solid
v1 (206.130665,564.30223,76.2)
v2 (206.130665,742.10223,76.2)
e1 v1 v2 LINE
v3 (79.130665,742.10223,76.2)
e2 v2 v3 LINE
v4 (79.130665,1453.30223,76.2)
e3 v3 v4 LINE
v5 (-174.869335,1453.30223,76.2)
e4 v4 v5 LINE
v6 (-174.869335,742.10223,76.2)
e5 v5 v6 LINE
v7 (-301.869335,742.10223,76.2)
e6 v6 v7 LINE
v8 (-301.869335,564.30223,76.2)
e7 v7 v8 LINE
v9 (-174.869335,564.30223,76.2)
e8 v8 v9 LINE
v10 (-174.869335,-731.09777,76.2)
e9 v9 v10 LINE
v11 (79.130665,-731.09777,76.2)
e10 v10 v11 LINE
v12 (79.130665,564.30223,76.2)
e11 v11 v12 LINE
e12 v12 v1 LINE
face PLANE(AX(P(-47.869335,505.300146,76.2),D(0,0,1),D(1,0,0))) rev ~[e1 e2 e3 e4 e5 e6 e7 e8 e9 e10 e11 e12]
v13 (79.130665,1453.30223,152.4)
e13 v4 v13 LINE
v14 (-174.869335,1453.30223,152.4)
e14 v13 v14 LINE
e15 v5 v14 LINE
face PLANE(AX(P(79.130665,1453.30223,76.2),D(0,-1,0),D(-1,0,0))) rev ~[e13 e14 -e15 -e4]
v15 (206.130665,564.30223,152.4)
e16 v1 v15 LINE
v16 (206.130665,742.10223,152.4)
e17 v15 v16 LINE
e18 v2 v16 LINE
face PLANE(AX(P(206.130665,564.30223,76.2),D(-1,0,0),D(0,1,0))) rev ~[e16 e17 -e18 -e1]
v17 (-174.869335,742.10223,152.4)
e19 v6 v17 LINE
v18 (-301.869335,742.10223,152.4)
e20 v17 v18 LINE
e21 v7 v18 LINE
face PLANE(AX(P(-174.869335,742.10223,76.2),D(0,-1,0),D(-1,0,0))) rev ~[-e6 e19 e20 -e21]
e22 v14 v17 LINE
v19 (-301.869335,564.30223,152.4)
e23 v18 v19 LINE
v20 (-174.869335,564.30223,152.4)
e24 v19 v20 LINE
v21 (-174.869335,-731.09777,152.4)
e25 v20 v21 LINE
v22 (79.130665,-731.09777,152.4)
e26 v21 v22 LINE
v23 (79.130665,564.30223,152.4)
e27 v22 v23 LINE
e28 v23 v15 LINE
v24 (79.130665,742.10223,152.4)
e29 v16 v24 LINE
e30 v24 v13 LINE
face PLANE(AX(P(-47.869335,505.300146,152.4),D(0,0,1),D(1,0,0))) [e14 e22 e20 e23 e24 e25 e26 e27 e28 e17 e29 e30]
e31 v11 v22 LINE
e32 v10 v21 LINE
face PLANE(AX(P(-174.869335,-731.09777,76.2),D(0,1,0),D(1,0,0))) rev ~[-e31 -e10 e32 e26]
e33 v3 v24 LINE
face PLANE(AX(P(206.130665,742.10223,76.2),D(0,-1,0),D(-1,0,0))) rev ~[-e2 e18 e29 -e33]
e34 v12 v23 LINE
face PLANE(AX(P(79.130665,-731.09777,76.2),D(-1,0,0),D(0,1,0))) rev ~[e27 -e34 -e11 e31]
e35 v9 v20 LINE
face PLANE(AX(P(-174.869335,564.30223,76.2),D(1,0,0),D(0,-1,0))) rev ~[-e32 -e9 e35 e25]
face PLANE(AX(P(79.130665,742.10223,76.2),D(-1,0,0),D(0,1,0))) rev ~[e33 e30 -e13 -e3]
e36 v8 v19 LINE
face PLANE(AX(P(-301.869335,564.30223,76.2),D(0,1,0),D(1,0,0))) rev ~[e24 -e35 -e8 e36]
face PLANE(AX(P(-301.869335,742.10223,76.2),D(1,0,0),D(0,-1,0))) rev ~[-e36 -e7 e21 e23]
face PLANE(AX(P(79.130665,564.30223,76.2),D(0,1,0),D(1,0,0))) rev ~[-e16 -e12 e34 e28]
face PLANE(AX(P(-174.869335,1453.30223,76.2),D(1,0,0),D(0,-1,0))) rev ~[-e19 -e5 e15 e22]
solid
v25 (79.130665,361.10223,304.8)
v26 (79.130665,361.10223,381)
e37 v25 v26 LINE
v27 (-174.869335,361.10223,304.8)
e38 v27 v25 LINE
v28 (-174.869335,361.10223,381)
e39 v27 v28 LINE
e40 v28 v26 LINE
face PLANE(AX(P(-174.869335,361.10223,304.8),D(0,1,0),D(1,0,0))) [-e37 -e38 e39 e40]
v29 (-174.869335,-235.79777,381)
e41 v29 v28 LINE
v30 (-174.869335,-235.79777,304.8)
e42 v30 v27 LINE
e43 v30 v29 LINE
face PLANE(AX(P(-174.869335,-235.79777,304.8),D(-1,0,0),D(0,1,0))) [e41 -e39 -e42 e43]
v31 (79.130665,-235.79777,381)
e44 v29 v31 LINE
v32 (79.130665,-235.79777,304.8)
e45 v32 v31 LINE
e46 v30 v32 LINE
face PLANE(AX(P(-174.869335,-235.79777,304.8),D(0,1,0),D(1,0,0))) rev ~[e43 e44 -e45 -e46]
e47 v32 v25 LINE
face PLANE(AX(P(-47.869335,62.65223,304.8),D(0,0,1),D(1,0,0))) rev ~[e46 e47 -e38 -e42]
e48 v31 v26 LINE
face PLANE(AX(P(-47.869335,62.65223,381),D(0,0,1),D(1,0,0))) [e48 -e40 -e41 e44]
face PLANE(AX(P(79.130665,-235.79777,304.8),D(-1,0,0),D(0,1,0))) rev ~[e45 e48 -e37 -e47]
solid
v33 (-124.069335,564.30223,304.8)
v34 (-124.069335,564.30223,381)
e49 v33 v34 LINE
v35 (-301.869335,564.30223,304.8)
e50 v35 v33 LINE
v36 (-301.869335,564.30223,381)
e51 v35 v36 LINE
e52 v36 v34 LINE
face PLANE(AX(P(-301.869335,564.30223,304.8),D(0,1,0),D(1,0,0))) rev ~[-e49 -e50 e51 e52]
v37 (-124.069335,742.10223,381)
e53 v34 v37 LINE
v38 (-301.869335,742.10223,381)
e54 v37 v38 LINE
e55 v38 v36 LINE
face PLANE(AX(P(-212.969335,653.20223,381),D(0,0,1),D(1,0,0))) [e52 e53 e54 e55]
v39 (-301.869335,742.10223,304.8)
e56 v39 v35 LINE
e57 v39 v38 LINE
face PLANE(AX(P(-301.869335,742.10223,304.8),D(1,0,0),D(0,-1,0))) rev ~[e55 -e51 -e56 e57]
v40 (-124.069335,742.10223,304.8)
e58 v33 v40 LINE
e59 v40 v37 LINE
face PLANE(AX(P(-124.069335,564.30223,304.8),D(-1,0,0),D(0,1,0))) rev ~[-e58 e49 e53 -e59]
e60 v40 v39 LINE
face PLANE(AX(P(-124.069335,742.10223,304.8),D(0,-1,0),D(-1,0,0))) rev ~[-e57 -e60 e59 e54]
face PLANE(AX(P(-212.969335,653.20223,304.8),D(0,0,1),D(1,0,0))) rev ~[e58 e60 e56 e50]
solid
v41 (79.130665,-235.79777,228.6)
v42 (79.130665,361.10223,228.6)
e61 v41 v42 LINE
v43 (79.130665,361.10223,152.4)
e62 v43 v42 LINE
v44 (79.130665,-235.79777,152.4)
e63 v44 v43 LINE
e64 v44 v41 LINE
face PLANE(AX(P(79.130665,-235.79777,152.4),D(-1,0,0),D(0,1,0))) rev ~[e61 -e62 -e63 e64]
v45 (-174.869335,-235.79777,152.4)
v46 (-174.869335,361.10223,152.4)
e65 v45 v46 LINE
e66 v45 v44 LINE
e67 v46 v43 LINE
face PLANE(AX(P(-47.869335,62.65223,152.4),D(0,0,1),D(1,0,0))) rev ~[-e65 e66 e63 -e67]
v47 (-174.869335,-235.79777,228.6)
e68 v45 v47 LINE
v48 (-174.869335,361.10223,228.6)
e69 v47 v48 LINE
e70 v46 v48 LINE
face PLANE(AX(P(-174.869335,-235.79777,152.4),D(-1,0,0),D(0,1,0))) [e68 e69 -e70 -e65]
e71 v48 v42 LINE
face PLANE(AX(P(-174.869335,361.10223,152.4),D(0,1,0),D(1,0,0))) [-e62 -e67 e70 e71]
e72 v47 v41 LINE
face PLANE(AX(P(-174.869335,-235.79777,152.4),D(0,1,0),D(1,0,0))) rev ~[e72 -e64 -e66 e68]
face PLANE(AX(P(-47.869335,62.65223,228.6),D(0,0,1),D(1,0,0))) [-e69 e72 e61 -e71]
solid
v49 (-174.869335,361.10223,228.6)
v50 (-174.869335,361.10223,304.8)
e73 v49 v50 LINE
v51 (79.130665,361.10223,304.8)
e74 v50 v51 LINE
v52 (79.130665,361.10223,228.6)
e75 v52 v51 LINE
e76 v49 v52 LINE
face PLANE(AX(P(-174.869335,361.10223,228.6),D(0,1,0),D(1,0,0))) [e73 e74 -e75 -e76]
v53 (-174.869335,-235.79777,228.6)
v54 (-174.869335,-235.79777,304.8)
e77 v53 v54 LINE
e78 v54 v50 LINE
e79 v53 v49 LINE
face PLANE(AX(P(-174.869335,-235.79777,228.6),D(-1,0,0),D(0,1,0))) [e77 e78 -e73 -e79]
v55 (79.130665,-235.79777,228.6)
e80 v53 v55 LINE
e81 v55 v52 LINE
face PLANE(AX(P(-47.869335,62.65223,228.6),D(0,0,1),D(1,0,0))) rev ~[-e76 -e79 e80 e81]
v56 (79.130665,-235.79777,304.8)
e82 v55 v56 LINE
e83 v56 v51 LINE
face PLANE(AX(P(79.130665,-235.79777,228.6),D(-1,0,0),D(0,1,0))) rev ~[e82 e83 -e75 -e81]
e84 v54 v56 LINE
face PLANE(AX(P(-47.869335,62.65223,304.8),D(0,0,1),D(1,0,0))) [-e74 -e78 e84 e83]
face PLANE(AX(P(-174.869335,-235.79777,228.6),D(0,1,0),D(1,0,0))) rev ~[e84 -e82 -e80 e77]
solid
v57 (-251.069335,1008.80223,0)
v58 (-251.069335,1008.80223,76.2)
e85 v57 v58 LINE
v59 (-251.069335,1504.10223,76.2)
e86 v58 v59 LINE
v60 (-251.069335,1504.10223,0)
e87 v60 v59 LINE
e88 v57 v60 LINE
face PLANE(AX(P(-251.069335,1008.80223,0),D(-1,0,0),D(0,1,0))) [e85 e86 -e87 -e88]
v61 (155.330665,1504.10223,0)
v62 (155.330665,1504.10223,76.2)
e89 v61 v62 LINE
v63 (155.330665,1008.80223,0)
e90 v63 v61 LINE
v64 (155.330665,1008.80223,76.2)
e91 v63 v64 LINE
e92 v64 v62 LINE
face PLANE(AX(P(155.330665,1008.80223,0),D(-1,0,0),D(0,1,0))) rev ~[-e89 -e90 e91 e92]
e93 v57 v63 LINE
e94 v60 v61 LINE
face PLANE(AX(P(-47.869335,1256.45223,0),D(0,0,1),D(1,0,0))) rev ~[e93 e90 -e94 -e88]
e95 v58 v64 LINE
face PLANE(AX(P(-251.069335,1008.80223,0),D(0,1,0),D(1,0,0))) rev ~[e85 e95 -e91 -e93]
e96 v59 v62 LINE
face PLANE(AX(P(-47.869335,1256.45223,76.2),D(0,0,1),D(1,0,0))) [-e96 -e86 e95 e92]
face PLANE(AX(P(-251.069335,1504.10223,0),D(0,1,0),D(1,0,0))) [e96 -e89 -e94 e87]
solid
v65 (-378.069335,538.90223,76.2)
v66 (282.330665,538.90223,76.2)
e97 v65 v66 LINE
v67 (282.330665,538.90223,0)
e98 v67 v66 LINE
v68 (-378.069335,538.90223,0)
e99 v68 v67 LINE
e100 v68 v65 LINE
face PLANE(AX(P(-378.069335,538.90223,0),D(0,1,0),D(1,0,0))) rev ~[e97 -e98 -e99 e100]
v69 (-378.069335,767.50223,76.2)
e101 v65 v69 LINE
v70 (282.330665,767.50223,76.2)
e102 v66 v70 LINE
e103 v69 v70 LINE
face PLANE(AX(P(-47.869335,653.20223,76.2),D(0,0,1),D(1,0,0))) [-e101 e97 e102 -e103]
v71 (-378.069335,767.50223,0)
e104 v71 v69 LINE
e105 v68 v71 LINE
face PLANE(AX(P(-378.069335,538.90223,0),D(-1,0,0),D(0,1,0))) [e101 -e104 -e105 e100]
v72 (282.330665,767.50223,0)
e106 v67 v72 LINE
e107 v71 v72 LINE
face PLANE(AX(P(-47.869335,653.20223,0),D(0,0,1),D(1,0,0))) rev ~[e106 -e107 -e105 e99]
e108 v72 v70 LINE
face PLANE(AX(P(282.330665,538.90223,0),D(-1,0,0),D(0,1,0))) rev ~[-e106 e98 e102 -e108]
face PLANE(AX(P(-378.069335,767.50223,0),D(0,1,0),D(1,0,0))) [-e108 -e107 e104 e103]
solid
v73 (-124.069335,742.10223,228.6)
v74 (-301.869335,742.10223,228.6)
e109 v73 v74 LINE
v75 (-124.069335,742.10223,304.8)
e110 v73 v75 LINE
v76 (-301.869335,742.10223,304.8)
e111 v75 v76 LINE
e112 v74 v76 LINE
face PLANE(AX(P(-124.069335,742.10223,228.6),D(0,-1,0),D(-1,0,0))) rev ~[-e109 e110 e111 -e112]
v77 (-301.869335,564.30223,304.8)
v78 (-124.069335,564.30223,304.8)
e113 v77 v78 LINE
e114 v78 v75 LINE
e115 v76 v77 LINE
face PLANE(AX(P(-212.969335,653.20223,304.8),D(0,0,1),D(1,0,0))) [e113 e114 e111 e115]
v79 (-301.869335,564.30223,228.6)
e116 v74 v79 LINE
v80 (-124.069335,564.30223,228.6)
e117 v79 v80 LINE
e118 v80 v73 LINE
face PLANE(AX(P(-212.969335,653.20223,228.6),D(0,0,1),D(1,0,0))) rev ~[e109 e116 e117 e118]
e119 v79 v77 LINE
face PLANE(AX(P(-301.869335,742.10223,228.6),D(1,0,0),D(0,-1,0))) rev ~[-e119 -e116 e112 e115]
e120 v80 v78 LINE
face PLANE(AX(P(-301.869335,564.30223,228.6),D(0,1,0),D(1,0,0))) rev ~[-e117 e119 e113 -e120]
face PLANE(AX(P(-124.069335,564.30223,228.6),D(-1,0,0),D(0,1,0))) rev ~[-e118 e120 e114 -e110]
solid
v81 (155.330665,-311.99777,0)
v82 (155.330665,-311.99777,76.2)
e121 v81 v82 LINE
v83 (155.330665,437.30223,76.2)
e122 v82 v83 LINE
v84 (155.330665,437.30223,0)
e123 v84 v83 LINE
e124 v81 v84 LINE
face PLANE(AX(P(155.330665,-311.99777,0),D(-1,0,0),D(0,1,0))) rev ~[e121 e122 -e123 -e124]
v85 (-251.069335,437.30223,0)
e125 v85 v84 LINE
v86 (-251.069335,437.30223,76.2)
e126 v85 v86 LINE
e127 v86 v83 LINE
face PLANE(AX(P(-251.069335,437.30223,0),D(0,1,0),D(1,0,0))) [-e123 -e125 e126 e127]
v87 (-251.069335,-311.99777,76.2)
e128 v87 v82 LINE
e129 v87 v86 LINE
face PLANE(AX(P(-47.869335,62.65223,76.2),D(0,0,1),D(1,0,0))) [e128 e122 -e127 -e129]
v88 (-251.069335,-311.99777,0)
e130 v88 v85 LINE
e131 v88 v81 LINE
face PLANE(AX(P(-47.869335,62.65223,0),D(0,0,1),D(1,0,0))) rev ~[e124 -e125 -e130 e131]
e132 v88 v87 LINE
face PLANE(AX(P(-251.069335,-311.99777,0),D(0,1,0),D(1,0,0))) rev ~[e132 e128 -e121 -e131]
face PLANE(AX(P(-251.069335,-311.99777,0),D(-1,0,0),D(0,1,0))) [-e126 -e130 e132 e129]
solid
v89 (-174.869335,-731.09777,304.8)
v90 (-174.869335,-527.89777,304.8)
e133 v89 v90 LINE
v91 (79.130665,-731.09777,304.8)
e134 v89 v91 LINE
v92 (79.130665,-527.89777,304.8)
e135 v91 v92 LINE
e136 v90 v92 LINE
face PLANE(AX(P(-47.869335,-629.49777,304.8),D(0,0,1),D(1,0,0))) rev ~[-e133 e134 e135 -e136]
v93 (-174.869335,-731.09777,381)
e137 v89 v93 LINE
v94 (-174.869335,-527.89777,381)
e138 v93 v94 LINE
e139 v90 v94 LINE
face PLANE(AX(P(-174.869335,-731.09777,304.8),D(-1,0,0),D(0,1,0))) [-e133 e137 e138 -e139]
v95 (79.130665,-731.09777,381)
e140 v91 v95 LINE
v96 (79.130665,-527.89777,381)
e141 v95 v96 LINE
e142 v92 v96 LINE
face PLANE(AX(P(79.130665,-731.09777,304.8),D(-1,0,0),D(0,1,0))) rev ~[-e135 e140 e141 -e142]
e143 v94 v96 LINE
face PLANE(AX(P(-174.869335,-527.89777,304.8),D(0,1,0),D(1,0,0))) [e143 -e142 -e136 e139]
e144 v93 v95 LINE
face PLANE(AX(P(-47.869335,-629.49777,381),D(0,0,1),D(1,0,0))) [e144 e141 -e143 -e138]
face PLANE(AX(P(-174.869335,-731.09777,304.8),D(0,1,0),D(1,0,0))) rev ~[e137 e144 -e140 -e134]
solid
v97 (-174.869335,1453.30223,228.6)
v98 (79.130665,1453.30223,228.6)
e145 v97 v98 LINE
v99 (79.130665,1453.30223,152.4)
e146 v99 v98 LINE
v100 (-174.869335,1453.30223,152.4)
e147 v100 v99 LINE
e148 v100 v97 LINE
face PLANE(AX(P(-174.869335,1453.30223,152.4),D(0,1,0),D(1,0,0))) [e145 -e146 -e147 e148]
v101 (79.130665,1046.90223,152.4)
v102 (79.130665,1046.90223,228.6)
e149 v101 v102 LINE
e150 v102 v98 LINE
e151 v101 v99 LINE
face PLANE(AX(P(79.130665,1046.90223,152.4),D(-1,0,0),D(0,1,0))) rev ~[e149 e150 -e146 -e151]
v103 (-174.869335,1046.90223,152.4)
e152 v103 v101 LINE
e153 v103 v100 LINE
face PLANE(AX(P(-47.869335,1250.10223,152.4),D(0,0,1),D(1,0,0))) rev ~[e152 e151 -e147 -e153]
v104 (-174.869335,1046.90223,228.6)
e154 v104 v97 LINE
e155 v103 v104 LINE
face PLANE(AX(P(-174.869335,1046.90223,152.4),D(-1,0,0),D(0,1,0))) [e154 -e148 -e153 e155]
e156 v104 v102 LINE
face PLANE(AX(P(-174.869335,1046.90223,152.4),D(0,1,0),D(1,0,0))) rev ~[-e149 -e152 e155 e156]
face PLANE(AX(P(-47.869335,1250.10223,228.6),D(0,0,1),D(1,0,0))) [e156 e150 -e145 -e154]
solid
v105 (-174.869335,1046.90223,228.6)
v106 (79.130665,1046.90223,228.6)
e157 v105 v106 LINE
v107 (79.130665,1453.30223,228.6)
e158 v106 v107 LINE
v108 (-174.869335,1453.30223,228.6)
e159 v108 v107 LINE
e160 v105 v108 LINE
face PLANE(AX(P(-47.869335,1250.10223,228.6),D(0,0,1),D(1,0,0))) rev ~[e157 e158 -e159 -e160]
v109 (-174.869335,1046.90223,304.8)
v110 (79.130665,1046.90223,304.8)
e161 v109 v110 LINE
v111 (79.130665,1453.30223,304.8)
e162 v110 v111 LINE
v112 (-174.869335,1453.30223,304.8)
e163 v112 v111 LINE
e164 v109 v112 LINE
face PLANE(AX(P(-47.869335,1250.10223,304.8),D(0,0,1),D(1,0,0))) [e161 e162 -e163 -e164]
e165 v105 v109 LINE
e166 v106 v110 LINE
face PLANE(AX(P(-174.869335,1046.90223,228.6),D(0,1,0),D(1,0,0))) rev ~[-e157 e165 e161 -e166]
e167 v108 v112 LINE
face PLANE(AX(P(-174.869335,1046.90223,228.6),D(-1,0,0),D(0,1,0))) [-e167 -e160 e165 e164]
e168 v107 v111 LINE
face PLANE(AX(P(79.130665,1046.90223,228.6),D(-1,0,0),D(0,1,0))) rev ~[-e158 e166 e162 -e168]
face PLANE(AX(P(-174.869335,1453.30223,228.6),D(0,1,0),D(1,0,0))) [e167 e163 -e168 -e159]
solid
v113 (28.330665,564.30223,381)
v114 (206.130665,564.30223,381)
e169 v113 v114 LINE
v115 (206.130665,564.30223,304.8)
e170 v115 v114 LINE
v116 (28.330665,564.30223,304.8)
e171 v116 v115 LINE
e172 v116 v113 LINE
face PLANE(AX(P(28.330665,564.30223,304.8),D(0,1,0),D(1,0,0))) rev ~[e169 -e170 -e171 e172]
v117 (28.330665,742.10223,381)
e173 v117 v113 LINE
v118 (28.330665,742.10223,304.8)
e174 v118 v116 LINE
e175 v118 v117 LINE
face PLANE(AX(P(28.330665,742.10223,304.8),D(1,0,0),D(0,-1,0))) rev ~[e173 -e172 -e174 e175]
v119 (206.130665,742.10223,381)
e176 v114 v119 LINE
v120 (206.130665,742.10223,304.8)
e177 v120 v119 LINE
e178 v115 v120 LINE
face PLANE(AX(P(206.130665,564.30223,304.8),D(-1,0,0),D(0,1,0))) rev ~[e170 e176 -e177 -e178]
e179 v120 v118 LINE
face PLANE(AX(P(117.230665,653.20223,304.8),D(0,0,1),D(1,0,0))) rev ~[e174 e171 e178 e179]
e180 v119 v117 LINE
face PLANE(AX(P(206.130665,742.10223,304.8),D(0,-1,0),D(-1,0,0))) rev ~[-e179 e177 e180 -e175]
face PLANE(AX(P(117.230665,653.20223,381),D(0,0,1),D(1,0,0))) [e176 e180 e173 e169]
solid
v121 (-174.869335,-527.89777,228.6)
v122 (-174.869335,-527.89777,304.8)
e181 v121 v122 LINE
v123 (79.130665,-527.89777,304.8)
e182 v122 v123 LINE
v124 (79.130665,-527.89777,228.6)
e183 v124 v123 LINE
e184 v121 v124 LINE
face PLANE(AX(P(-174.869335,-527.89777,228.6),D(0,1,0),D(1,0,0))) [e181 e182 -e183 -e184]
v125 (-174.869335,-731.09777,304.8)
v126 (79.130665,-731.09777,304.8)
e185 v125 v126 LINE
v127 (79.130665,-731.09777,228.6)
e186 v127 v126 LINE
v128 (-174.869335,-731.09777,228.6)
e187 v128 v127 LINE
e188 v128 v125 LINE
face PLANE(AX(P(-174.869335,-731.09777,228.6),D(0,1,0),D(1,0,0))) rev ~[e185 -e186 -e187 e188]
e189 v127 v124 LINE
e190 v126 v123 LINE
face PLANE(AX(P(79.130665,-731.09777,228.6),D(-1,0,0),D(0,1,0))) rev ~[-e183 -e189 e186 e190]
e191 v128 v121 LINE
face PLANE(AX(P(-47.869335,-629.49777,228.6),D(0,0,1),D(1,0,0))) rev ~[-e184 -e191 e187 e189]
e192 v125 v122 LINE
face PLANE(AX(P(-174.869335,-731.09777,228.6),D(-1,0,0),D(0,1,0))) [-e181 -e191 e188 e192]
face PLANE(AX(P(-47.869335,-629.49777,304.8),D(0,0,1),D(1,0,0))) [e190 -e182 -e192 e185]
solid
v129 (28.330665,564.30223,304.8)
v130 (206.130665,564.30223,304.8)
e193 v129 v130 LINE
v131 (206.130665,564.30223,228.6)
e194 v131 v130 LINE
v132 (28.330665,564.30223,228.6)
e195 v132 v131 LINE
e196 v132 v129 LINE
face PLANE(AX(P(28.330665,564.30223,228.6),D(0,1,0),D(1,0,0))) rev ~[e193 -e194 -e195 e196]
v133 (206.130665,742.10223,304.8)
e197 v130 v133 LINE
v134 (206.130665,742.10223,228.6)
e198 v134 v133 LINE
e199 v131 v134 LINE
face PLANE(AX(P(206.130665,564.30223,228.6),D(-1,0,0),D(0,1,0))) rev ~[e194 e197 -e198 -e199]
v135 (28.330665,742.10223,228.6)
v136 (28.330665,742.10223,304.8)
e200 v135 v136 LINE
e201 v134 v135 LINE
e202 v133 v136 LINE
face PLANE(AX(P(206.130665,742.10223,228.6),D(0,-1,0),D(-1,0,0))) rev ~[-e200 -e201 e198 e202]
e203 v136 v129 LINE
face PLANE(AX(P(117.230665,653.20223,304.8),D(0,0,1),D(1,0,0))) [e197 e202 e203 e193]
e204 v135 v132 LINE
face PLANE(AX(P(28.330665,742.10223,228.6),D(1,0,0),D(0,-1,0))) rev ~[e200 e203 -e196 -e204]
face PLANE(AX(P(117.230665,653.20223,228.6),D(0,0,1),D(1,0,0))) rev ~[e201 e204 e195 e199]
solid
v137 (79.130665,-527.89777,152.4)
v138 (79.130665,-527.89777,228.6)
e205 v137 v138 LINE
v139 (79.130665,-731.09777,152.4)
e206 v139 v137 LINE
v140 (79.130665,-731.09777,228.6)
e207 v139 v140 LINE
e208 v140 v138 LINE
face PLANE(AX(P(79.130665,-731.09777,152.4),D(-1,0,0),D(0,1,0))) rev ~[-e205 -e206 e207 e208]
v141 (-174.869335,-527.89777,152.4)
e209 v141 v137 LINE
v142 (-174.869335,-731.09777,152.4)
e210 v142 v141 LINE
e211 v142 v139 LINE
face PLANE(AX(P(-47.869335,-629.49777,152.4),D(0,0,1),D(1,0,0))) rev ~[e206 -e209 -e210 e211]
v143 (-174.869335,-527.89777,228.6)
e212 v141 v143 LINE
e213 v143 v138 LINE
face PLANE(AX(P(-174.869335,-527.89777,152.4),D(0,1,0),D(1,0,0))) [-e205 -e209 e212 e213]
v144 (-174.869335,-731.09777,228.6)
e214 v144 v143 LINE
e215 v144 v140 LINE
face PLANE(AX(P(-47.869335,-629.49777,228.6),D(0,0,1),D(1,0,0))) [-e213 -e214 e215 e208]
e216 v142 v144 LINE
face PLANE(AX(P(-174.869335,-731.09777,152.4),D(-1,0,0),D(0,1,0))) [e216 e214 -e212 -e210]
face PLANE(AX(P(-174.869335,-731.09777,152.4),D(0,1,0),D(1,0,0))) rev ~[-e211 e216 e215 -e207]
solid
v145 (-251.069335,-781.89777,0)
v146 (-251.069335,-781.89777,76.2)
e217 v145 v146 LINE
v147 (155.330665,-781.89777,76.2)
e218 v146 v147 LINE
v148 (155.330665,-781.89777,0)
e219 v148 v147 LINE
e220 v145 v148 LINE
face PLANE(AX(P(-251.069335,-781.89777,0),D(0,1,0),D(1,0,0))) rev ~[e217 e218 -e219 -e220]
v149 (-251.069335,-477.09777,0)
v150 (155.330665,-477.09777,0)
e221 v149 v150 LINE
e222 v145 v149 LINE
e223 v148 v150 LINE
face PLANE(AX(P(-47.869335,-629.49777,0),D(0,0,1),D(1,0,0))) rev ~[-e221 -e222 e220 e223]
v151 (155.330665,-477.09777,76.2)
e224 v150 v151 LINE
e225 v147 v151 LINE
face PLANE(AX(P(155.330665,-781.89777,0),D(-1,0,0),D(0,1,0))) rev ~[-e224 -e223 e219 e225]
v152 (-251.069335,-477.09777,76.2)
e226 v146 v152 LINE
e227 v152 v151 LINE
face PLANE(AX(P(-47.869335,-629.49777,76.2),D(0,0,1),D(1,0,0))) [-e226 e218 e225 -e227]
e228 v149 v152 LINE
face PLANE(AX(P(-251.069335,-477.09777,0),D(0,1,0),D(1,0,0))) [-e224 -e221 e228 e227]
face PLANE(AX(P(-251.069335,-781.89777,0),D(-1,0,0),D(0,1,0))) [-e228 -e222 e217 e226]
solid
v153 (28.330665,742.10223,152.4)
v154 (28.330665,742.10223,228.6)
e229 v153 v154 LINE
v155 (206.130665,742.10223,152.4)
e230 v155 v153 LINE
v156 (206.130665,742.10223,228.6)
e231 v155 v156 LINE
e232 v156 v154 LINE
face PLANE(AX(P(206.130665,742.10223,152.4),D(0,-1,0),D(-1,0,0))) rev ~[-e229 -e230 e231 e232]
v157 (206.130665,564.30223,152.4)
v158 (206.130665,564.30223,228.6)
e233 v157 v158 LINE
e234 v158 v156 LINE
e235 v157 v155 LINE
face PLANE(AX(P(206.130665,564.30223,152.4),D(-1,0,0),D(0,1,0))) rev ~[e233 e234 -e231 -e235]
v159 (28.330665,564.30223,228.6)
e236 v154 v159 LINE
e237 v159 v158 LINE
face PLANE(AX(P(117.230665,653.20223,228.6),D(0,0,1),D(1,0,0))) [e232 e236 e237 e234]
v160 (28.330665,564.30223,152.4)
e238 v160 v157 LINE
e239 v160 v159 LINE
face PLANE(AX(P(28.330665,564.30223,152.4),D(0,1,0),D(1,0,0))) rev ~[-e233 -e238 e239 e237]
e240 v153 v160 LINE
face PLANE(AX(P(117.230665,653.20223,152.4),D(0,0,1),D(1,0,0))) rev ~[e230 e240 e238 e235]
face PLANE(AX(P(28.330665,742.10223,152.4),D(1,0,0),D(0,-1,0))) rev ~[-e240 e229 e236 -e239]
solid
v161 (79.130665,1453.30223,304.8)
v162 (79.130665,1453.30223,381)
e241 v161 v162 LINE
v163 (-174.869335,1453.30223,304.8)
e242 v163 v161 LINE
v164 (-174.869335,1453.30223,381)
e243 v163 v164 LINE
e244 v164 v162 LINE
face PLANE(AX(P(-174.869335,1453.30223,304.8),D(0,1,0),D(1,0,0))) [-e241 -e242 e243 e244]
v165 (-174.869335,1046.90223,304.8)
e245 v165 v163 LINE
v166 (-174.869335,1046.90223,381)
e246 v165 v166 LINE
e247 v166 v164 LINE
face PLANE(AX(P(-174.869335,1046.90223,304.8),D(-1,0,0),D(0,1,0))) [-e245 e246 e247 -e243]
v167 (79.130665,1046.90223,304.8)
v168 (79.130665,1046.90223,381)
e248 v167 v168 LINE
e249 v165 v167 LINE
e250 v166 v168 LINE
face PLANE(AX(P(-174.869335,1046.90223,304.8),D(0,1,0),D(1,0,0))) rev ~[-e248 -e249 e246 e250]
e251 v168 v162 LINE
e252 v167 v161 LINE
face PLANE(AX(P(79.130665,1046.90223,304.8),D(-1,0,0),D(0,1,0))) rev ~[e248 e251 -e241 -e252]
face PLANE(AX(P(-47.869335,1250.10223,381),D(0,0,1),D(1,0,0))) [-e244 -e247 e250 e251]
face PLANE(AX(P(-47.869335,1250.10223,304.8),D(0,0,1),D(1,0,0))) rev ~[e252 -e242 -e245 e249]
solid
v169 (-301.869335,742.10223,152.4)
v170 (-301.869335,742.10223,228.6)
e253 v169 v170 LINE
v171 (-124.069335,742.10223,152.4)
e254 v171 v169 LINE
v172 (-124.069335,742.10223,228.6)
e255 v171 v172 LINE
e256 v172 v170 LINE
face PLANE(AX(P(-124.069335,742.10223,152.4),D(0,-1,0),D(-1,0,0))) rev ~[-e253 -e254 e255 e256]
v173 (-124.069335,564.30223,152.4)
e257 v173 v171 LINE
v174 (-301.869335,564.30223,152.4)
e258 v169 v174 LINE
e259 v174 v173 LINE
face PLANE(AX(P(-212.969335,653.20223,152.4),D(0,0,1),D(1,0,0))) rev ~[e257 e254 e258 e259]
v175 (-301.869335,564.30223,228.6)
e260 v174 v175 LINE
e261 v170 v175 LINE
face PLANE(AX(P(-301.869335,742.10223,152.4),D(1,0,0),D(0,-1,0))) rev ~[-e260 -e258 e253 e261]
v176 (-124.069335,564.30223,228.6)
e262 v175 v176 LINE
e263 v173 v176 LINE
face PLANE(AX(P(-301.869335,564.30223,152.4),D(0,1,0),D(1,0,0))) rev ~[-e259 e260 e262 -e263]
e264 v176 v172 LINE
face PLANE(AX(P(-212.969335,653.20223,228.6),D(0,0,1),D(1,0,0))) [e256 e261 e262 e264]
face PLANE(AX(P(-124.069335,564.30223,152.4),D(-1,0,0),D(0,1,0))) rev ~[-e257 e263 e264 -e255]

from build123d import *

# Parameters (mm, degrees)
F0_W     = 406.4
F0_H     = 304.8
F1_DEPTH = 76.2
F0_H_2   = 749.3
F0_W_2   = 660.4
F0_H_3   = 228.6
F0_H_4   = 495.3
F2_W     = 254
F2_H     = 254
F3_DEPTH = 76.2
F4_W     = 254
F4_H     = 203.2
F5_DEPTH = 76.2
F4_H_2   = 596.9
F4_H_3   = 406.4
F6_DEPTH = 76.2
F7_DEPTH = 76.2


with BuildPart() as f1:
    # F0 (on Top) → F1 (new body)
    with BuildSketch(Plane.XY):
        with Locations((-47.8693349523, -629.4977704952)):
            Rectangle(F0_W, F0_H)
    extrude(amount=F1_DEPTH)


with BuildPart() as f1b:
    # F0 (on Top) → F1, piece 2 (new body)
    with BuildSketch(Plane.XY):
        with Locations((-47.8693349523, 62.6522295048)):
            Rectangle(F0_W, F0_H_2)
    extrude(amount=F1_DEPTH)


with BuildPart() as f1c:
    # F0 (on Top) → F1, piece 3 (new body)
    with BuildSketch(Plane.XY):
        with Locations((-47.8693349523, 653.2022295048)):
            Rectangle(F0_W_2, F0_H_3)
    extrude(amount=F1_DEPTH)


with BuildPart() as f1d:
    # F0 (on Top) → F1, piece 4 (new body)
    with BuildSketch(Plane.XY):
        with Locations((-47.8693349523, 1256.4522295048)):
            Rectangle(F0_W, F0_H_4)
    extrude(amount=F1_DEPTH)


with BuildPart() as f3:
    # F2 (on face) → F3 (new body)
    with BuildSketch(Plane.XY.offset(76.2)):
        Polygon((-174.8693349523, 564.3022295048), (-174.8693349523, -477.0977704952), (79.1306650477, -477.0977704952), (79.1306650477, 564.3022295048), (206.1306650477, 564.3022295048), (206.1306650477, 742.1022295048), (79.1306650477, 742.1022295048), (79.1306650477, 1453.3022295048), (-174.8693349523, 1453.3022295048), (-174.8693349523, 742.1022295048), (-301.8693349523, 742.1022295048), (-301.8693349523, 564.3022295048), align=None)
        with Locations((-47.8693349523, -604.0977704952)):
            Rectangle(F2_W, F2_H)
    extrude(amount=F3_DEPTH)


with BuildPart() as f5:
    # F4 (on face) → F5 (new body)
    with BuildSketch(Plane.XY.offset(152.4)):
        with Locations((-47.8693349523, -629.4977704952)):
            Rectangle(F4_W, F4_H)
    extrude(amount=F5_DEPTH)


with BuildPart() as f5b:
    # F4 (on face) → F5, piece 2 (new body)
    with BuildSketch(Plane.XY.offset(152.4)):
        with Locations((-47.8693349523, 62.6522295048)):
            Rectangle(F4_W, F4_H_2)
    extrude(amount=F5_DEPTH)


with BuildPart() as f5c:
    # F4 (on face) → F5, piece 3 (new body)
    with BuildSketch(Plane.XY.offset(152.4)):
        Polygon((-301.8693349523, 564.3022295048), (-174.8693349523, 564.3022295048), (-124.0693349523, 564.3022295048), (-124.0693349523, 742.1022295048), (-174.8693349523, 742.1022295048), (-301.8693349523, 742.1022295048), align=None)
    extrude(amount=F5_DEPTH)


with BuildPart() as f5d:
    # F4 (on face) → F5, piece 4 (new body)
    with BuildSketch(Plane.XY.offset(152.4)):
        Polygon((28.3306650477, 564.3022295048), (79.1306650477, 564.3022295048), (206.1306650477, 564.3022295048), (206.1306650477, 742.1022295048), (79.1306650477, 742.1022295048), (28.3306650477, 742.1022295048), align=None)
    extrude(amount=F5_DEPTH)


with BuildPart() as f5e:
    # F4 (on face) → F5, piece 5 (new body)
    with BuildSketch(Plane.XY.offset(152.4)):
        with Locations((-47.8693349523, 1250.1022295048)):
            Rectangle(F4_W, F4_H_3)
    extrude(amount=F5_DEPTH)


with BuildPart() as f6:
    # F6 (new): a face of the model
    f6_faces = [f5.part.faces().sort_by_distance(p)[0] for p in [
        (-47.8693349523, -629.4977704952, 228.6),
    ]]
    extrude(f6_faces, amount=F6_DEPTH)


with BuildPart() as f6b:
    # F6#2 (new): a face of the model
    f6_2_faces = [f5b.part.faces().sort_by_distance(p)[0] for p in [
        (-47.8693349523, 62.6522295048, 228.6),
    ]]
    extrude(f6_2_faces, amount=F6_DEPTH)


with BuildPart() as f6c:
    # F6#3 (new): a face of the model
    f6_3_faces = [f5c.part.faces().sort_by_distance(p)[0] for p in [
        (-212.9693349523, 653.2022295048, 228.6),
    ]]
    extrude(f6_3_faces, amount=F6_DEPTH)


with BuildPart() as f6d:
    # F6#4 (new): a face of the model
    f6_4_faces = [f5d.part.faces().sort_by_distance(p)[0] for p in [
        (117.2306650477, 653.2022295048, 228.6),
    ]]
    extrude(f6_4_faces, amount=F6_DEPTH)


with BuildPart() as f6e:
    # F6#5 (new): a face of the model
    f6_5_faces = [f5e.part.faces().sort_by_distance(p)[0] for p in [
        (-47.8693349523, 1250.1022295048, 228.6),
    ]]
    extrude(f6_5_faces, amount=F6_DEPTH)


with BuildPart() as f7:
    # F7 (new): a face of the model
    f7_faces = [f6.part.faces().sort_by_distance(p)[0] for p in [
        (-47.8693349523, -629.4977704952, 304.8),
    ]]
    extrude(f7_faces, amount=F7_DEPTH)


with BuildPart() as f7b:
    # F7#2 (new): a face of the model
    f7_2_faces = [f6b.part.faces().sort_by_distance(p)[0] for p in [
        (-47.8693349523, 62.6522295048, 304.8),
    ]]
    extrude(f7_2_faces, amount=F7_DEPTH)


with BuildPart() as f7c:
    # F7#3 (new): a face of the model
    f7_3_faces = [f6c.part.faces().sort_by_distance(p)[0] for p in [
        (-212.9693349523, 653.2022295048, 304.8),
    ]]
    extrude(f7_3_faces, amount=F7_DEPTH)


with BuildPart() as f7d:
    # F7#4 (new): a face of the model
    f7_4_faces = [f6d.part.faces().sort_by_distance(p)[0] for p in [
        (117.2306650477, 653.2022295048, 304.8),
    ]]
    extrude(f7_4_faces, amount=F7_DEPTH)


with BuildPart() as f7e:
    # F7#5 (new): a face of the model
    f7_5_faces = [f6e.part.faces().sort_by_distance(p)[0] for p in [
        (-47.8693349523, 1250.1022295048, 304.8),
    ]]
    extrude(f7_5_faces, amount=F7_DEPTH)


solid = Compound([f1.part, f1b.part, f1c.part, f1d.part, f3.part, f5.part, f5b.part, f5c.part, f5d.part, f5e.part, f6.part, f6b.part, f6c.part, f6d.part, f6e.part, f7.part, f7b.part, f7c.part, f7d.part, f7e.part])
